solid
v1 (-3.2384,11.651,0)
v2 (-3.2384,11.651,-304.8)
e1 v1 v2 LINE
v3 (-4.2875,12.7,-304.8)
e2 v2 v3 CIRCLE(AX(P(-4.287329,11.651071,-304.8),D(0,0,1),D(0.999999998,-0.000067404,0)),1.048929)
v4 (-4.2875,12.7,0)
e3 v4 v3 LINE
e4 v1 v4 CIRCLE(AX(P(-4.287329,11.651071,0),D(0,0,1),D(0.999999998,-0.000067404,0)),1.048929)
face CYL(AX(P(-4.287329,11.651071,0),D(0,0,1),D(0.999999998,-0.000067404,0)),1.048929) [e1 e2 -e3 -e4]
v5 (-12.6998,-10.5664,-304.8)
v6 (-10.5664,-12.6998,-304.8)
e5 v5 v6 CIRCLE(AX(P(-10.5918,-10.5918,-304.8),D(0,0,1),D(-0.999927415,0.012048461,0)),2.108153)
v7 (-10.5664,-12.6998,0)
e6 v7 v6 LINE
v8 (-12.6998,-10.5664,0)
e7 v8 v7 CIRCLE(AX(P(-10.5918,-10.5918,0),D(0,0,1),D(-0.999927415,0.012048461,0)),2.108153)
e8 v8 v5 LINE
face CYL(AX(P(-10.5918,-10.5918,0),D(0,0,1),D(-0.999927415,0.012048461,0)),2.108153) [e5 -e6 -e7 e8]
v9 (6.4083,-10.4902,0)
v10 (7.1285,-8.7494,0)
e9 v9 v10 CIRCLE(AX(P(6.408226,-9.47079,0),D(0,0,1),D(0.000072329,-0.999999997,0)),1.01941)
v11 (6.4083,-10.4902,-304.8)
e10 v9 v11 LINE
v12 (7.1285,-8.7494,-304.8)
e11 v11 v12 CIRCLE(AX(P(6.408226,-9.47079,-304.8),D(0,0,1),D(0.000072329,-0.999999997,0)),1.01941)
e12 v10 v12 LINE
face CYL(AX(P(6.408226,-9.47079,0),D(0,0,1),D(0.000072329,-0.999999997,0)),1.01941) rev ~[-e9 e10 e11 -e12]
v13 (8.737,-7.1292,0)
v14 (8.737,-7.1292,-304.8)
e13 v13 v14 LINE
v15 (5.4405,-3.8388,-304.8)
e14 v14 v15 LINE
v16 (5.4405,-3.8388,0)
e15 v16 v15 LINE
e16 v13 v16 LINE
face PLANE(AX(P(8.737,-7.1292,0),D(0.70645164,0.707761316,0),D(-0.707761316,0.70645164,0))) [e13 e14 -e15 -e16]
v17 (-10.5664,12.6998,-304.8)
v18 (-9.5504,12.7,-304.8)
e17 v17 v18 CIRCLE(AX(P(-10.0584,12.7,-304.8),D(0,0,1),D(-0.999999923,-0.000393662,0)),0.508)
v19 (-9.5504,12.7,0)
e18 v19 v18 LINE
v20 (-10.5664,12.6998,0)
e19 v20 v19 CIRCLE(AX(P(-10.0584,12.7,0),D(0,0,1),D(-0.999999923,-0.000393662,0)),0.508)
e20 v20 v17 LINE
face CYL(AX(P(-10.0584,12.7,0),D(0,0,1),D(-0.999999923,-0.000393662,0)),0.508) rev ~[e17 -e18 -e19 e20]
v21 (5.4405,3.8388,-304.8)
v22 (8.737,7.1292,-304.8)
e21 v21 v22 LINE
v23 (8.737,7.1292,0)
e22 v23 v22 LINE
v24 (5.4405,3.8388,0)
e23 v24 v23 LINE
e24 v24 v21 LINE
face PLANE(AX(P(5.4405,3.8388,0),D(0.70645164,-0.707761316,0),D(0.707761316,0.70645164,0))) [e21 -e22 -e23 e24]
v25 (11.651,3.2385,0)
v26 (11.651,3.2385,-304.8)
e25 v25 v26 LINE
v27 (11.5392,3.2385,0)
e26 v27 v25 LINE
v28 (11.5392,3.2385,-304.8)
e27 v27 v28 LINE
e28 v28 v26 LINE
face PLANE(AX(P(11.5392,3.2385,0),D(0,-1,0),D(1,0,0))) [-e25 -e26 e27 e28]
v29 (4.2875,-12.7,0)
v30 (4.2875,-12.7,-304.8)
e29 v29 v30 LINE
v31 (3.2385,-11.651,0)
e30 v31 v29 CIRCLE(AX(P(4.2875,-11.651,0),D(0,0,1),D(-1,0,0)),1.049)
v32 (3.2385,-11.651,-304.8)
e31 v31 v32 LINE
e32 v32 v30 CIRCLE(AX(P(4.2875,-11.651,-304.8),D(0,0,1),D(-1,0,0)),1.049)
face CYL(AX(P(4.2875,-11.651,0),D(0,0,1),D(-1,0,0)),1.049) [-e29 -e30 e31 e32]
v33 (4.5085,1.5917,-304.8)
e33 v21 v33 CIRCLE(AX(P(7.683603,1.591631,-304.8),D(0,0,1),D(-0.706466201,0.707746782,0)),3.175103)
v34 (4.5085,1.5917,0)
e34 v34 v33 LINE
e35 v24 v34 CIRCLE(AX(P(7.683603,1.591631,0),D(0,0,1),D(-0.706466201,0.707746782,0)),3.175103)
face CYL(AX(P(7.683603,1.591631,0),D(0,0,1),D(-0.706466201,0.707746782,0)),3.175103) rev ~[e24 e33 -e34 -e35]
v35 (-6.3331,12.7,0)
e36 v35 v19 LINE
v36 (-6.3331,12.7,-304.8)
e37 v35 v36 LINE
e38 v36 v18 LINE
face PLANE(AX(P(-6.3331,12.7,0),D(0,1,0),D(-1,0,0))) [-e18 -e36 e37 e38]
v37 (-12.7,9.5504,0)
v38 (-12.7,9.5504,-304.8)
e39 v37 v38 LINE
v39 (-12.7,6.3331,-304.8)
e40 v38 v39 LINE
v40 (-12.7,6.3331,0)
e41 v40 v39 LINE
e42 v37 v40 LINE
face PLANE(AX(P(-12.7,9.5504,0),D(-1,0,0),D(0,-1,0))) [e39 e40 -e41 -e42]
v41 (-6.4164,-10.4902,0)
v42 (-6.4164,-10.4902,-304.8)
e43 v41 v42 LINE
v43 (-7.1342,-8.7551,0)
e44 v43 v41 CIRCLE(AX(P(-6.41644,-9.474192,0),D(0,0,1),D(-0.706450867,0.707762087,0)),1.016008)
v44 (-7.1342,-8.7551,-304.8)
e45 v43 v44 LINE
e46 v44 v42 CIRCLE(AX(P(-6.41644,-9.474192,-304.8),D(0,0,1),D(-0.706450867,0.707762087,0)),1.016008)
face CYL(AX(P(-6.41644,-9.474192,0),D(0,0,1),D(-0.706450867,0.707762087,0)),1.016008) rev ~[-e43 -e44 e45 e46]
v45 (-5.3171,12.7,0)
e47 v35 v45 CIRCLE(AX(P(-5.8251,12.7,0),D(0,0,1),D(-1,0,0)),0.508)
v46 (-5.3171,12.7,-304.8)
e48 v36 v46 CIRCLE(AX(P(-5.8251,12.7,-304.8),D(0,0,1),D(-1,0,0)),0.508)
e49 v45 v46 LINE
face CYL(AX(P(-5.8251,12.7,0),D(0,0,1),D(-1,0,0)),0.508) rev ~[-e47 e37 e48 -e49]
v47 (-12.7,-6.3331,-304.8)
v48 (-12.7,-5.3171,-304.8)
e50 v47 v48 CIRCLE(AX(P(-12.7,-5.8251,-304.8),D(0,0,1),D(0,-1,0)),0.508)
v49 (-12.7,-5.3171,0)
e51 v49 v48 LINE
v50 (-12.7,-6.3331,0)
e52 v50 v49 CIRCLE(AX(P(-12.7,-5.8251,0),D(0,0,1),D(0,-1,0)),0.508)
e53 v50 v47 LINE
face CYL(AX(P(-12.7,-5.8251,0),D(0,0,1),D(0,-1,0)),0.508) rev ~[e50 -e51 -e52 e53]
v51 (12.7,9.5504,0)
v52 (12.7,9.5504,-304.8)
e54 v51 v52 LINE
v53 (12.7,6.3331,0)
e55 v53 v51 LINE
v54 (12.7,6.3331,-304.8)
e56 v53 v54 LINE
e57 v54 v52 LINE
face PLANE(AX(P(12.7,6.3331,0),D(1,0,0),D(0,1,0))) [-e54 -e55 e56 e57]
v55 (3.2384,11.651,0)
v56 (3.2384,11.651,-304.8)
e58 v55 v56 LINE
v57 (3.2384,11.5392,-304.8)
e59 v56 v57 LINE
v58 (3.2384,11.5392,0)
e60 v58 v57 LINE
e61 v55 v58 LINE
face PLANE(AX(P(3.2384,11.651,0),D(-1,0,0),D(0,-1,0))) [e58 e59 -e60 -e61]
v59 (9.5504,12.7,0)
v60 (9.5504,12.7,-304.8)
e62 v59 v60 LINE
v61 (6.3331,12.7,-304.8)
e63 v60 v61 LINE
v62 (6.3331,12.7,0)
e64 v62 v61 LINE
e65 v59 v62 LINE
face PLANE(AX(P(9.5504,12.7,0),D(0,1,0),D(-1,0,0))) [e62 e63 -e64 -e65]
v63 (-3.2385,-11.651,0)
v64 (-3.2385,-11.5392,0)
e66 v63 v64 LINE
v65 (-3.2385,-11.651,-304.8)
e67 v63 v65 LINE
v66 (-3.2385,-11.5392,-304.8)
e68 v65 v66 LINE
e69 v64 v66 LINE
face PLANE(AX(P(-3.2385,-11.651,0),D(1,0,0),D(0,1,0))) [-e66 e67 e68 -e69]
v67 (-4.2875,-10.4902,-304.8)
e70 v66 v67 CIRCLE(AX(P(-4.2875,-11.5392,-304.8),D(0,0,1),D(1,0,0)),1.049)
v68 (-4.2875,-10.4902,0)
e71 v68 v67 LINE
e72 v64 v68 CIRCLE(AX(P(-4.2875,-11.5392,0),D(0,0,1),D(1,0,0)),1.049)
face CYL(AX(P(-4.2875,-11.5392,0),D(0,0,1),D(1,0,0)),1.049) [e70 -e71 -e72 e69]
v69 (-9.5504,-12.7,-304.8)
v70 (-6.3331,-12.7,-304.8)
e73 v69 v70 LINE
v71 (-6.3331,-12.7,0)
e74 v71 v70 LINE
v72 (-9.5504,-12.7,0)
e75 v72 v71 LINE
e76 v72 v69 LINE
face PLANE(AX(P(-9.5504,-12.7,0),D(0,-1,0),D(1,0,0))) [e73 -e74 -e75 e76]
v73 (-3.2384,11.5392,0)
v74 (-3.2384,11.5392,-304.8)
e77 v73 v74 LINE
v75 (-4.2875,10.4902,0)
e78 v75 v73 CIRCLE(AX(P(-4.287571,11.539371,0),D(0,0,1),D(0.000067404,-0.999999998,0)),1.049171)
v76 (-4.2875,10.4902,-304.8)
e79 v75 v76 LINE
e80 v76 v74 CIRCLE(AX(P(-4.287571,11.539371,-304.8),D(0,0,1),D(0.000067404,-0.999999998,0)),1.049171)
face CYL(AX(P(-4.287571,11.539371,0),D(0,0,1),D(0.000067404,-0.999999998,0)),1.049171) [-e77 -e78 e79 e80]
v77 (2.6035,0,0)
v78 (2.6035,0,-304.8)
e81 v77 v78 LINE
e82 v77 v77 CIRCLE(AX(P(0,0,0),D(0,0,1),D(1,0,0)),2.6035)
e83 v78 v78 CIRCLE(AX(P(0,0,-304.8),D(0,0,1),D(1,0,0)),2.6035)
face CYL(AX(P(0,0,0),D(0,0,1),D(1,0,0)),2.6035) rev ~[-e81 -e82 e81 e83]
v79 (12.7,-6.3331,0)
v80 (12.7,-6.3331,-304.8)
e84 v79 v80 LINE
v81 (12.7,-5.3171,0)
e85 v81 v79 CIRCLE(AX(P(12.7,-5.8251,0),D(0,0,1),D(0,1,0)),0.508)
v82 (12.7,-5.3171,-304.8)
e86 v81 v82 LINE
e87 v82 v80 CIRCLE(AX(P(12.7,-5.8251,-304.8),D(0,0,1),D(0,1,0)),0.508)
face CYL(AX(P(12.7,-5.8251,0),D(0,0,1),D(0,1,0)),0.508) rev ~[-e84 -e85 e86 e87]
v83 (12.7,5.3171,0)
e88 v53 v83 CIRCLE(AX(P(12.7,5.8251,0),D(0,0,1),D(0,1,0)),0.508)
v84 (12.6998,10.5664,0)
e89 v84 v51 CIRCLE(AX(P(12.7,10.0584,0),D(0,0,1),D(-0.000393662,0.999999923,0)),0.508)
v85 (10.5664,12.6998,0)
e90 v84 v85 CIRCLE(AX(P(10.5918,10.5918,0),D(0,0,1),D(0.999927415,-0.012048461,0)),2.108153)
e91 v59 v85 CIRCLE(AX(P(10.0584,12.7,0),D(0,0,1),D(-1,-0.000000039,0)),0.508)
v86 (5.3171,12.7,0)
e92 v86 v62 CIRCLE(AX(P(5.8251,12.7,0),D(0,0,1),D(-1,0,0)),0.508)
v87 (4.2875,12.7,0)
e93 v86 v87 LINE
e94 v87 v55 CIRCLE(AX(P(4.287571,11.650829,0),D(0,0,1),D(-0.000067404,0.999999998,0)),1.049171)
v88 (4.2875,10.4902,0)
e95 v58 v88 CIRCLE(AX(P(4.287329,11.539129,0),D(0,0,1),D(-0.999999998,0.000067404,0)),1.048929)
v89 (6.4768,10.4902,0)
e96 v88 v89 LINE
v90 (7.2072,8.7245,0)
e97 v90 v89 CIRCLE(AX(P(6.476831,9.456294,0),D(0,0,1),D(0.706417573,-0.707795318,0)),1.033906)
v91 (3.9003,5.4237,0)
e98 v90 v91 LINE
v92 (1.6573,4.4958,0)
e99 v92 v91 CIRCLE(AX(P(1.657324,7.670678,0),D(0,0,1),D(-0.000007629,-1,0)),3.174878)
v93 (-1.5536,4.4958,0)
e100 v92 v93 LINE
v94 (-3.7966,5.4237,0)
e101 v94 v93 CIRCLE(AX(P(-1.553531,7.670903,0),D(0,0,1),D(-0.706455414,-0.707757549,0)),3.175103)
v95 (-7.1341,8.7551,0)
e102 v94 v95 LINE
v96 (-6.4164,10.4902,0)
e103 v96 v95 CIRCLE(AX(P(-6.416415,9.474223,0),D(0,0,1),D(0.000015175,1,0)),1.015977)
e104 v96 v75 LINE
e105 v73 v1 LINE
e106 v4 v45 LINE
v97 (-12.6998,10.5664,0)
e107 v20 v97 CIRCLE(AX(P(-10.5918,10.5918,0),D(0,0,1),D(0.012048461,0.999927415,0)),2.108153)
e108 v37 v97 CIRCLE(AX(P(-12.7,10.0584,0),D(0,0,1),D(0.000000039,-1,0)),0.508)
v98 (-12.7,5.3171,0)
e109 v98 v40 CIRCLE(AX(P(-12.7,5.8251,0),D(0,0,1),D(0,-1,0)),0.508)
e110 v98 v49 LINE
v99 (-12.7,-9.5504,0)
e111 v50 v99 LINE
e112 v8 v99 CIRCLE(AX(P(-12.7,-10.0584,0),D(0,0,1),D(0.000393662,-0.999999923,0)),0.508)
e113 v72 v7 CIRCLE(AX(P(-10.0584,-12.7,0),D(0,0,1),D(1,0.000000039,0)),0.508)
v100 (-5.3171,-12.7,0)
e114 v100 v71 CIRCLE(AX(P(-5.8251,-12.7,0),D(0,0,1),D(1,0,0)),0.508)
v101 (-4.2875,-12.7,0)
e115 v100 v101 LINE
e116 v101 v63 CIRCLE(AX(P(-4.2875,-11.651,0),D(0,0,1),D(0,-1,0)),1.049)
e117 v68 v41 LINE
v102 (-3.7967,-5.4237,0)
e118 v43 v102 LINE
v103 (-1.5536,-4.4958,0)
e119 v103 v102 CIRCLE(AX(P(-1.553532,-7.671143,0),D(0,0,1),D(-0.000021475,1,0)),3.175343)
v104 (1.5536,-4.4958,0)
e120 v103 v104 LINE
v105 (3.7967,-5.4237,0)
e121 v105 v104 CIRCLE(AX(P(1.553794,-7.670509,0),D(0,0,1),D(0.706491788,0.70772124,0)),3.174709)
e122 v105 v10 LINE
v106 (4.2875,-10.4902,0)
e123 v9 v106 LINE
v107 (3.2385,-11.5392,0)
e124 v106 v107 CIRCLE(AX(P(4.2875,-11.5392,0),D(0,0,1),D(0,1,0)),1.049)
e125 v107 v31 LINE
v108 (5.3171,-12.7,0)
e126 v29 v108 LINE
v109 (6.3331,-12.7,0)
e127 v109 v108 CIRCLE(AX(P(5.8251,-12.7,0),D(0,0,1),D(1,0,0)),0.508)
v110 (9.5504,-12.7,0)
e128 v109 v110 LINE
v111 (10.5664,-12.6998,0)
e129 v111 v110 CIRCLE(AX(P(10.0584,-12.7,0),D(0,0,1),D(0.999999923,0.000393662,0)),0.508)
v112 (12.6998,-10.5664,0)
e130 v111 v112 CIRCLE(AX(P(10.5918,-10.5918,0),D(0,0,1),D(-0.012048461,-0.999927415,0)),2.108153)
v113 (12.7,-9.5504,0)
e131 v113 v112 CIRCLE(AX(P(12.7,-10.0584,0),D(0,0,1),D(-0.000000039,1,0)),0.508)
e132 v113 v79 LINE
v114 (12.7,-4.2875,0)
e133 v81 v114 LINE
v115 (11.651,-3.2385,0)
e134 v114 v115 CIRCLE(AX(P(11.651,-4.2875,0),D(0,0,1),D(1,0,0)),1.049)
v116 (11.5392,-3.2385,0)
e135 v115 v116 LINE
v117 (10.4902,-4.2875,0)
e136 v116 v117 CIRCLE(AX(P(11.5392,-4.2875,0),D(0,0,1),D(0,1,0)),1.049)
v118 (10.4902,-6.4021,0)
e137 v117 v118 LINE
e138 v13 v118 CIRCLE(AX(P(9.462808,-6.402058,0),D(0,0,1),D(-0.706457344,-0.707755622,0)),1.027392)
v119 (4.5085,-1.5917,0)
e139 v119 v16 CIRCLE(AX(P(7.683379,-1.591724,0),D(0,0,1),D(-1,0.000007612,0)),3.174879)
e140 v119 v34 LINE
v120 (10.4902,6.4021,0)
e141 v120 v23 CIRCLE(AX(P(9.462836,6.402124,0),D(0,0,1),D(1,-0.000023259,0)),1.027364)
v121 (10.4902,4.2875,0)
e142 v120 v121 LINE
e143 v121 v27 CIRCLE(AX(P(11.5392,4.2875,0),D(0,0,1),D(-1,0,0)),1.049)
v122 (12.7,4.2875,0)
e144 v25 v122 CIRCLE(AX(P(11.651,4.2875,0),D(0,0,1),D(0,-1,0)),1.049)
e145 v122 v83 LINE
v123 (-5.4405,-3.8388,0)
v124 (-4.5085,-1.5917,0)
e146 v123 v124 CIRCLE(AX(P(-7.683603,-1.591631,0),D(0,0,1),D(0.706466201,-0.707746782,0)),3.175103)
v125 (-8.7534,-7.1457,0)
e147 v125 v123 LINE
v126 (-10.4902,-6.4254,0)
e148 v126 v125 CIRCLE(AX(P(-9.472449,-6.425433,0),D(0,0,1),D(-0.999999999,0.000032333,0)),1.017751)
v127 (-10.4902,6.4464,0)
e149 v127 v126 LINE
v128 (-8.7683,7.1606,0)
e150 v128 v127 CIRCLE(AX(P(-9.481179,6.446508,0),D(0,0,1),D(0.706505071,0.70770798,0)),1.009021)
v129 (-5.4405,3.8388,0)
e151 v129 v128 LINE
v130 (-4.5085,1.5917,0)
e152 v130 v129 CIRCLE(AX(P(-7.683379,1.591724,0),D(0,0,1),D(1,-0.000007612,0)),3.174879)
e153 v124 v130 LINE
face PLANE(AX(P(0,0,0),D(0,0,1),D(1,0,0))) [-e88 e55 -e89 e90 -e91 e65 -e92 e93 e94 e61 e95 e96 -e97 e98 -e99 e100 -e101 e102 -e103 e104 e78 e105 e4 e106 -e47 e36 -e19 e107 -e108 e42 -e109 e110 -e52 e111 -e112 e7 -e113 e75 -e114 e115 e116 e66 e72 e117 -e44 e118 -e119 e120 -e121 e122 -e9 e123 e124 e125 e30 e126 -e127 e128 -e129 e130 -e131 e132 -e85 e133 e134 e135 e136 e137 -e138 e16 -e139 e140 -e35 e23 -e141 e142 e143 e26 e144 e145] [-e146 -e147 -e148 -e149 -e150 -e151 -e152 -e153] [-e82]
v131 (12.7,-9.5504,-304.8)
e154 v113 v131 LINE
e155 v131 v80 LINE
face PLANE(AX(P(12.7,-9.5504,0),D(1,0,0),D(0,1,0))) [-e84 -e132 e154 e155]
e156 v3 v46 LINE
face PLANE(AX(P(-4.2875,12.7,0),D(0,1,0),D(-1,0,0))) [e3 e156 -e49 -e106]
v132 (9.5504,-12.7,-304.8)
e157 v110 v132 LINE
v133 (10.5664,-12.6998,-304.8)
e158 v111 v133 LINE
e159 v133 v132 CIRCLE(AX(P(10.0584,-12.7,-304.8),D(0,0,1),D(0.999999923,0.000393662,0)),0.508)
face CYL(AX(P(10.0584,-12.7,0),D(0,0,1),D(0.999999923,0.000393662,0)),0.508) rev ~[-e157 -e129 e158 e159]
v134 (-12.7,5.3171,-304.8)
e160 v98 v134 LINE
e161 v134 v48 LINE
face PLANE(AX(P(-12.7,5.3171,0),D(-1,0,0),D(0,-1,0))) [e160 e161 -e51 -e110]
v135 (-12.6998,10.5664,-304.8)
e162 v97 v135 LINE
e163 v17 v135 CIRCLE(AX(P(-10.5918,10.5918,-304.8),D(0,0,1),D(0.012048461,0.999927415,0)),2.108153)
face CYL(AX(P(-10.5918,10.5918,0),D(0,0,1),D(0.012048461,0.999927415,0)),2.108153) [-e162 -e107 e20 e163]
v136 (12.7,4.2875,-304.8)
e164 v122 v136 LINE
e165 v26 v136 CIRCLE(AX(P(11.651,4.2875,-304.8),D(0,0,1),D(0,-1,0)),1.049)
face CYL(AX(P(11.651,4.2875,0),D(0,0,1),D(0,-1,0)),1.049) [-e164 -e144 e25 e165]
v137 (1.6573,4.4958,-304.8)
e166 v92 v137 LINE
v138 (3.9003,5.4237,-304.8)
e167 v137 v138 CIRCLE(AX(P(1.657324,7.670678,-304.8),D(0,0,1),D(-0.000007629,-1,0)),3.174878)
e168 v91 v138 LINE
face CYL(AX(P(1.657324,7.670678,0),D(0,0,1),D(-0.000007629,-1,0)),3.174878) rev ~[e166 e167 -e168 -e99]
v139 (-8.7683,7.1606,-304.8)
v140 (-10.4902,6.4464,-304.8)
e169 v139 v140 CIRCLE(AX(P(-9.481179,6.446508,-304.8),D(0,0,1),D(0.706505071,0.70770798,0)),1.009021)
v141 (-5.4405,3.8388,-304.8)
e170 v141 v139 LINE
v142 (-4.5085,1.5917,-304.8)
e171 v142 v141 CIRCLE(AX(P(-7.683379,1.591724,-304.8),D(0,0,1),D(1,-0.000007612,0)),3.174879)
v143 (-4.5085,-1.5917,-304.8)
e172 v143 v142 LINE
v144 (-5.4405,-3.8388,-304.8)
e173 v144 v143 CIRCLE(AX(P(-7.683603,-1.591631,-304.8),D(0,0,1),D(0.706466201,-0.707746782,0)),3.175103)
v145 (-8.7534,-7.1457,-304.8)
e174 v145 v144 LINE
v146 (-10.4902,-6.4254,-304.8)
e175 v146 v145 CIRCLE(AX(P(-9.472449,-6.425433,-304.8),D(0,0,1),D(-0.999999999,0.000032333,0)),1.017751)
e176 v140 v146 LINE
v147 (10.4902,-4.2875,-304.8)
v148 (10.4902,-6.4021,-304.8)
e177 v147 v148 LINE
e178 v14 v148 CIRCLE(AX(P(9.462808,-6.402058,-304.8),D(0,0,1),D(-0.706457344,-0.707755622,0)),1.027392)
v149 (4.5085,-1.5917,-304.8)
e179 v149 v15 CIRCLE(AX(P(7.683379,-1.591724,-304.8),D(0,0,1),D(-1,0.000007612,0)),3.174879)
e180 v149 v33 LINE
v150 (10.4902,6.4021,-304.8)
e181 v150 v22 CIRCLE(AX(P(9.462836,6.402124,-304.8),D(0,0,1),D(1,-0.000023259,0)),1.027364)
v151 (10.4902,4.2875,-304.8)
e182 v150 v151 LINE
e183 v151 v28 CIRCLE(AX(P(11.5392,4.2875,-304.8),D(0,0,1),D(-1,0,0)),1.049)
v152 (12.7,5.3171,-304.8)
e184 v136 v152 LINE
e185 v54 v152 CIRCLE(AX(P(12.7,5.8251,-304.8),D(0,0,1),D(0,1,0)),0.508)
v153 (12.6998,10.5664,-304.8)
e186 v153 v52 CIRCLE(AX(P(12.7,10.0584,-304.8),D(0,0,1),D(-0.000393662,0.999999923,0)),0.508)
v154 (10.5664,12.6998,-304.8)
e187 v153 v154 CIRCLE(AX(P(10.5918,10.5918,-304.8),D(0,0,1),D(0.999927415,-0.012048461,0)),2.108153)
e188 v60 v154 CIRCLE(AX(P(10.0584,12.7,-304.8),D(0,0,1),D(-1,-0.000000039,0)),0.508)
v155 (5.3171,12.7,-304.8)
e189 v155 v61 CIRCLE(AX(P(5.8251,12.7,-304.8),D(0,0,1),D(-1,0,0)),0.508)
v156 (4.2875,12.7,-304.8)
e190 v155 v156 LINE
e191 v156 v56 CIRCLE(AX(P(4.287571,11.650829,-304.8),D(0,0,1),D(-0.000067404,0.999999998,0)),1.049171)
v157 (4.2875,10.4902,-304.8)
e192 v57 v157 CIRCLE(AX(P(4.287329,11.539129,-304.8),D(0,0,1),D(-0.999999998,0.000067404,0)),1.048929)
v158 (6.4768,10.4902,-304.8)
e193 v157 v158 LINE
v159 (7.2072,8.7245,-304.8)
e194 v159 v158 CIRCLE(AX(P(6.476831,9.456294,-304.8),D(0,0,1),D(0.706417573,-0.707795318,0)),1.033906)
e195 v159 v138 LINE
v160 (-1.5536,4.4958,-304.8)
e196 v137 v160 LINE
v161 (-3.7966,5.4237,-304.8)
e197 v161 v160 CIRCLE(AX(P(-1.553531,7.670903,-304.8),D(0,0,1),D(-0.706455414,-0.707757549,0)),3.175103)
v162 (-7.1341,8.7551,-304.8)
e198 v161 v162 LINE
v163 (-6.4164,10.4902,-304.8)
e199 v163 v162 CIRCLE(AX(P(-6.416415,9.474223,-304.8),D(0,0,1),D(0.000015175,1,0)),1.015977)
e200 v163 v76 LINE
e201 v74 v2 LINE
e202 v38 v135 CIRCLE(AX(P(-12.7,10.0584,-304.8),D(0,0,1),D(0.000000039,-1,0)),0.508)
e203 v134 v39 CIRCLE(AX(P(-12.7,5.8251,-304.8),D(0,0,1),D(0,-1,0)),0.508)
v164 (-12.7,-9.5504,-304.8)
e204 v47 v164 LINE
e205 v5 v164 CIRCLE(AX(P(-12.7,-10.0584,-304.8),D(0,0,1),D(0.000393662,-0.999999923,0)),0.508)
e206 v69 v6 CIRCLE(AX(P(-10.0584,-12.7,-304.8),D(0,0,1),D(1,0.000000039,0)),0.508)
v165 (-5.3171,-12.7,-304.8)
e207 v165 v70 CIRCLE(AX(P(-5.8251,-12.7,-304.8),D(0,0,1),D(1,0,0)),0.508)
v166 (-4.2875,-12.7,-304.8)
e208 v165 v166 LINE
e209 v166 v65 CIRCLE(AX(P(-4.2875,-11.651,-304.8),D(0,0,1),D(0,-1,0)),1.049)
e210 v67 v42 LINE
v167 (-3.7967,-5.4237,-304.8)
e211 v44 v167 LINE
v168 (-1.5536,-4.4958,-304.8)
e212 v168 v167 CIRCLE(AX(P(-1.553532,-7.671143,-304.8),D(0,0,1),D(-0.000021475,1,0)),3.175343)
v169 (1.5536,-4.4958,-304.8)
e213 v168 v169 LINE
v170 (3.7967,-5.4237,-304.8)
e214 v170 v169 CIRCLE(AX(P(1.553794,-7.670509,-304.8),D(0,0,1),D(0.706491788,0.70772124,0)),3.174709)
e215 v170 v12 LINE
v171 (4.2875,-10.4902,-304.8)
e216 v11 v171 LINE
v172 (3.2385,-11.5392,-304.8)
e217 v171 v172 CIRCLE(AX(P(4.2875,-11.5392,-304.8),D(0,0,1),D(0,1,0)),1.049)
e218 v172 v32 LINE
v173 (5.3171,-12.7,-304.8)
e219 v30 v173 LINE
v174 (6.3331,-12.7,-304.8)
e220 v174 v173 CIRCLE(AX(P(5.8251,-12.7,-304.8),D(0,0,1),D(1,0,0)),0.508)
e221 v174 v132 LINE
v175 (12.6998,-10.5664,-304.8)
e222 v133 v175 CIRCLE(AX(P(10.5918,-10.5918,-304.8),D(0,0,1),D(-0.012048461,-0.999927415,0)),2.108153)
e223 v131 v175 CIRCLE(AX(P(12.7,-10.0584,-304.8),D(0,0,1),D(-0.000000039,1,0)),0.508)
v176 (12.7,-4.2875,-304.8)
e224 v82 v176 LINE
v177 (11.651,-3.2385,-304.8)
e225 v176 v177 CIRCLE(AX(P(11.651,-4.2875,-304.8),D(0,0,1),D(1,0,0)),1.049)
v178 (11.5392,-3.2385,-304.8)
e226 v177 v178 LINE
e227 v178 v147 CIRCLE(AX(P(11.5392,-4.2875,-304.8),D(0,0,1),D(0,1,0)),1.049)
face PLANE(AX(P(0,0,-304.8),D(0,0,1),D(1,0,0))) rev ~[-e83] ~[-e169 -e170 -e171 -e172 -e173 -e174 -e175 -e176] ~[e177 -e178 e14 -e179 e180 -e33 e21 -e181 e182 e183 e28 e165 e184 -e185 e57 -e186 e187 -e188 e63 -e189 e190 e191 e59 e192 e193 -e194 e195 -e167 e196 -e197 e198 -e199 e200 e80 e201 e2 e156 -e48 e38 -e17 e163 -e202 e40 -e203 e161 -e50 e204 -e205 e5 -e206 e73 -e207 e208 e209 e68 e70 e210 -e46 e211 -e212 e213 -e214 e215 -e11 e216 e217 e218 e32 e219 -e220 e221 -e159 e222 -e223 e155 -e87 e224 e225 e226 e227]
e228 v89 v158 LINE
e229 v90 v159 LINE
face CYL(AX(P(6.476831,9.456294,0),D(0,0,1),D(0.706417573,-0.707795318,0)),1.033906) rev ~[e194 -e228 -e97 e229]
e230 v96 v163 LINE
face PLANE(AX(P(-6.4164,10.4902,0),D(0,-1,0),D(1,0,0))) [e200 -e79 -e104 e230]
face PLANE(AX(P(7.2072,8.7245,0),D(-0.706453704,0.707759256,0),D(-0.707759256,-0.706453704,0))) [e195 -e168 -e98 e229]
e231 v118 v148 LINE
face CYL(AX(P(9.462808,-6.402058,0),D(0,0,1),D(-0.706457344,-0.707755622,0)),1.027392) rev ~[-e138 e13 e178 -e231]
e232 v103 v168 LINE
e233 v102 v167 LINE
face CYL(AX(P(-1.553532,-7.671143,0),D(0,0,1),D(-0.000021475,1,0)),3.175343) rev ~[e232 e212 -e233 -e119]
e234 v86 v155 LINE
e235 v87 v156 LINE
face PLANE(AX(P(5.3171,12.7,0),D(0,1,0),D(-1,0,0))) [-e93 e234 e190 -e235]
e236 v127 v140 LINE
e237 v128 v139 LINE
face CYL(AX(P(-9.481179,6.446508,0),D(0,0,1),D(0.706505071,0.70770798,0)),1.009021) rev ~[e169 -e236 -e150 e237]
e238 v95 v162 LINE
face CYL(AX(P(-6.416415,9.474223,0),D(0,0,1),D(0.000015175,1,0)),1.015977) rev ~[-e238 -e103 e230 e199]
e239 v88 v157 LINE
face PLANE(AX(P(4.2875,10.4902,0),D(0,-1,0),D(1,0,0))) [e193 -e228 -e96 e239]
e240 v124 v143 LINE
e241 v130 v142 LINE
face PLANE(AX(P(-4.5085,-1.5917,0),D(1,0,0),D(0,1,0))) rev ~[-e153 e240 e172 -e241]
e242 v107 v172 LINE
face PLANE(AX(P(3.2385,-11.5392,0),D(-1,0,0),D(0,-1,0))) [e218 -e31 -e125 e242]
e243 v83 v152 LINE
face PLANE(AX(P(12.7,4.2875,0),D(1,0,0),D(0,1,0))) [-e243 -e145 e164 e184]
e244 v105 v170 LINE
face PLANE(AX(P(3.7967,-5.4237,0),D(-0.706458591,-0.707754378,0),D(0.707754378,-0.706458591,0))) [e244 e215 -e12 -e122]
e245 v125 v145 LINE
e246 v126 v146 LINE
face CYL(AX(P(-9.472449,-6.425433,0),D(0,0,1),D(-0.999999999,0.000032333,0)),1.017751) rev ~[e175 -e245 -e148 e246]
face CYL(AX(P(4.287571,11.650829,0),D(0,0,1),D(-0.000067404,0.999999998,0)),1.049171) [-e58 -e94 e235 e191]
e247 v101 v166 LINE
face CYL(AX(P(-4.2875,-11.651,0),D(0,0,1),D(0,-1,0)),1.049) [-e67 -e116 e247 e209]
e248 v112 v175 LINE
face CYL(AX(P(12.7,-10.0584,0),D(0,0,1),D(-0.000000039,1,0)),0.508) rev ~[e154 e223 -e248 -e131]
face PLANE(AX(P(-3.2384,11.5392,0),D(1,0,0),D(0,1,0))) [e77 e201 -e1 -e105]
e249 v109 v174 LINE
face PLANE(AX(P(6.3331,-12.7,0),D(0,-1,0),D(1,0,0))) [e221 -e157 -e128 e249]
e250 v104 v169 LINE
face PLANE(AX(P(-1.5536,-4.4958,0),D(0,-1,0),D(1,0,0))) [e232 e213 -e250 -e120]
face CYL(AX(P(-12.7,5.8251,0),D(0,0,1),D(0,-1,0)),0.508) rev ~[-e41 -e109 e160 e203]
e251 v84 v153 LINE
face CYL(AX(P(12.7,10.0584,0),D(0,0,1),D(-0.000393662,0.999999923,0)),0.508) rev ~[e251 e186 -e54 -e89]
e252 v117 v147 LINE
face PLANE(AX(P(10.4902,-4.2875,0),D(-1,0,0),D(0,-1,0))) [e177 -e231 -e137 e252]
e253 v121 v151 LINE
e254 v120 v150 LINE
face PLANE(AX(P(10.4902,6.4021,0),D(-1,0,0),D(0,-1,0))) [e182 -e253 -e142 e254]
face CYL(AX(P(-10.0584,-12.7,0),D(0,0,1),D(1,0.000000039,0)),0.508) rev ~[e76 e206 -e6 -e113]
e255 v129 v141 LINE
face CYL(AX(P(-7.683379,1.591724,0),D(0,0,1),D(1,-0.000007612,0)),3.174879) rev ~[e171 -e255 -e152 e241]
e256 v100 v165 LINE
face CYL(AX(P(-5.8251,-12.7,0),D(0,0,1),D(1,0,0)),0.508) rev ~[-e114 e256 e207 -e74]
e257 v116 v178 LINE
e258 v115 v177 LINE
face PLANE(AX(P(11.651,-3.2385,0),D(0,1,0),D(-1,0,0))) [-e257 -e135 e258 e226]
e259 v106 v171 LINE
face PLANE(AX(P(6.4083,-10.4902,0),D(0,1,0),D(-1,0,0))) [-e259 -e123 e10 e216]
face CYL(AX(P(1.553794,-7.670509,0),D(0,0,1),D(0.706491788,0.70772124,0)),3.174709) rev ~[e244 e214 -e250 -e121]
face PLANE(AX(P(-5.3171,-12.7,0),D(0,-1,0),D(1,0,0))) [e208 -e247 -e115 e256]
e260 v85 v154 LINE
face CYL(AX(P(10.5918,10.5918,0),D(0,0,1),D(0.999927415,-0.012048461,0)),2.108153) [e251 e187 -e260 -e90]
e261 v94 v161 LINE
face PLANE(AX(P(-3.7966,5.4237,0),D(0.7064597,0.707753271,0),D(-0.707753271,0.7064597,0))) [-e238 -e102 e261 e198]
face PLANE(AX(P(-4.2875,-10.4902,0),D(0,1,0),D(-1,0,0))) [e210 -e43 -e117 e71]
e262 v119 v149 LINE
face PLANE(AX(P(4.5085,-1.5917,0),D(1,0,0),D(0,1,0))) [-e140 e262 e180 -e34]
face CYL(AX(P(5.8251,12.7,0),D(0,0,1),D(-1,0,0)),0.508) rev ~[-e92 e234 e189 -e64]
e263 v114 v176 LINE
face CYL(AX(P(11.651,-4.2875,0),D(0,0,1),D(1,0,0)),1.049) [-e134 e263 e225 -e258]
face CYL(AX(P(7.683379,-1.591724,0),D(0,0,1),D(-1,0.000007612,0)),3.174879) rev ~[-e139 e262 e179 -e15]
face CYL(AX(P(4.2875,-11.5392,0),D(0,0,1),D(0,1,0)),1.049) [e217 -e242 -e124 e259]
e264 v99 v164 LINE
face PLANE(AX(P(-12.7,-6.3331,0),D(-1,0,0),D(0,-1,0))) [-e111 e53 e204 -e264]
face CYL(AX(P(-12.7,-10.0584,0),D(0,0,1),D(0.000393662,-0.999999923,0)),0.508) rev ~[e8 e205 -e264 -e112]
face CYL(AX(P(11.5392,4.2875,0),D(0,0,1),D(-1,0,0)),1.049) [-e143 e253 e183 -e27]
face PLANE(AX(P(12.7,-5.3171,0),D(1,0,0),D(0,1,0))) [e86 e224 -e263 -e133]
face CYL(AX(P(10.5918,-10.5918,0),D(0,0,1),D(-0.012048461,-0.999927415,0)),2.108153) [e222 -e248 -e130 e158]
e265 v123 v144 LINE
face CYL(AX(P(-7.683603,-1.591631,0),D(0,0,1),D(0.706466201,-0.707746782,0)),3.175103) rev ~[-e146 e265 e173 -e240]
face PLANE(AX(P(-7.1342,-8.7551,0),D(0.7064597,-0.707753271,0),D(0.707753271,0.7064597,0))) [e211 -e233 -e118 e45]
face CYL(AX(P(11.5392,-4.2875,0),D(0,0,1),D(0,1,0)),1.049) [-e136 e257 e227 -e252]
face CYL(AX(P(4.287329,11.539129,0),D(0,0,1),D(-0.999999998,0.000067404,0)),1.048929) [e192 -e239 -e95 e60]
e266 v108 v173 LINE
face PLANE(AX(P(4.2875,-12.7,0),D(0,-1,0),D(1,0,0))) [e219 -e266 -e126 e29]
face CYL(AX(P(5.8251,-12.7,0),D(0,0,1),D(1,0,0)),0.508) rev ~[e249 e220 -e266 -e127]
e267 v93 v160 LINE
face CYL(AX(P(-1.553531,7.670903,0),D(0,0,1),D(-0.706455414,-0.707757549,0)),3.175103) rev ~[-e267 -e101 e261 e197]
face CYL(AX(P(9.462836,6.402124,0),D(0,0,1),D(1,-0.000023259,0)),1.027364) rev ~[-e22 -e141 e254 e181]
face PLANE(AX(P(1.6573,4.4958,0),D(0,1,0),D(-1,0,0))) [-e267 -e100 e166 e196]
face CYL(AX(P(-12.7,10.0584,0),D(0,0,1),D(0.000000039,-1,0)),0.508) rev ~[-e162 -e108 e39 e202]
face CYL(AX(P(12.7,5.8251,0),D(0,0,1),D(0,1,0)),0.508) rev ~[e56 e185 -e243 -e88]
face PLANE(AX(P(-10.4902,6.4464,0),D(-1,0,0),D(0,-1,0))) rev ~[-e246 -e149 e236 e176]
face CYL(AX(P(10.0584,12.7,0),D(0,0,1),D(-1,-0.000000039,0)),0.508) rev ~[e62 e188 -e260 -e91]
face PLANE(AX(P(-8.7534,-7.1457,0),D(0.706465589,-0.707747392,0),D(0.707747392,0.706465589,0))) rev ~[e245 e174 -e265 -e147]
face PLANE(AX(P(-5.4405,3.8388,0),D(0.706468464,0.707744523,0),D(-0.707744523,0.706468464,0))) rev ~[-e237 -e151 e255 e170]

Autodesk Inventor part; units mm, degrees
ref_plane "YZ Plane" through (0, 0, 0) normal (1, 0, 0) x (0, 1, 0)
ref_plane "XZ Plane" through (0, 0, 0) normal (0, 1, 0) x (-1, 0, 0)
ref_plane "XY Plane" through (0, 0, 0) normal (0, 0, 1) x (1, 0, 0)
sketch "Sketch1" plane through (0, 0, 0) normal (0, 0, 1) x (1, 0, 0)
  circle A0 centre (0, 0) radius 2.6035
  arc A1 (-8.7683, 7.1606) -> (-10.4902, 6.4464) centre (-9.4812, 6.4464) ccw
  line L0 (-5.4405, 3.8388) -> (-8.7683, 7.1606)
  arc A2 (-4.5085, 1.5917) -> (-5.4405, 3.8388) centre (-7.6835, 1.5917) ccw
  line L1 (-4.5085, -1.5917) -> (-4.5085, 1.5917)
  arc A3 (-5.4405, -3.8388) -> (-4.5085, -1.5917) centre (-7.6835, -1.5917) ccw
  line L2 (-8.7534, -7.1457) -> (-5.4405, -3.8388)
  arc A4 (-10.4902, -6.4254) -> (-8.7534, -7.1457) centre (-9.4724, -6.4254) ccw
  line L3 (-10.4902, 6.4464) -> (-10.4902, -6.4254)
  arc A5 (-7.1342, -8.7551) -> (-6.4164, -10.4902) centre (-6.4164, -9.4742) ccw
  line L4 (-7.1342, -8.7551) -> (-3.7967, -5.4237)
  arc A6 (-1.5536, -4.4958) -> (-3.7967, -5.4237) centre (-1.5536, -7.6708) ccw
  line L5 (-1.5536, -4.4958) -> (1.5536, -4.4958)
  arc A7 (3.7967, -5.4237) -> (1.5536, -4.4958) centre (1.5536, -7.6708) ccw
  line L6 (3.7967, -5.4237) -> (7.1285, -8.7494)
  arc A8 (6.4083, -10.4902) -> (7.1285, -8.7494) centre (6.4083, -9.4709) ccw
  line L7 (6.4083, -10.4902) -> (4.2875, -10.4902)
  arc A9 (4.2875, -10.4902) -> (3.2385, -11.5392) centre (4.2875, -11.5392) ccw
  line L8 (3.2385, -11.5392) -> (3.2385, -11.651)
  arc A10 (3.2385, -11.651) -> (4.2875, -12.7) centre (4.2875, -11.651) ccw
  line L9 (4.2875, -12.7) -> (5.3171, -12.7)
  arc A11 (6.3331, -12.7) -> (5.3171, -12.7) centre (5.8251, -12.7) ccw
  line L10 (6.3331, -12.7) -> (9.5504, -12.7)
  arc A12 (10.5664, -12.6998) -> (9.5504, -12.7) centre (10.0584, -12.7) ccw
  arc A13 (10.5664, -12.6998) -> (12.6998, -10.5664) centre (10.5918, -10.5918) ccw
  arc A14 (12.7, -9.5504) -> (12.6998, -10.5664) centre (12.7, -10.0584) ccw
  line L11 (12.7, -9.5504) -> (12.7, -6.3331)
  arc A15 (12.7, -5.3171) -> (12.7, -6.3331) centre (12.7, -5.8251) ccw
  line L12 (12.7, -5.3171) -> (12.7, -4.2875)
  arc A16 (12.7, -4.2875) -> (11.651, -3.2385) centre (11.651, -4.2875) ccw
  line L13 (11.651, -3.2385) -> (11.5392, -3.2385)
  arc A17 (11.5392, -3.2385) -> (10.4902, -4.2875) centre (11.5392, -4.2875) ccw
  line L14 (10.4902, -4.2875) -> (10.4902, -6.4021)
  arc A18 (8.737, -7.1292) -> (10.4902, -6.4021) centre (9.4628, -6.4021) ccw
  line L15 (8.737, -7.1292) -> (5.4405, -3.8388)
  arc A19 (4.5085, -1.5917) -> (5.4405, -3.8388) centre (7.6835, -1.5917) ccw
  line L16 (4.5085, -1.5917) -> (4.5085, 1.5917)
  arc A20 (5.4405, 3.8388) -> (4.5085, 1.5917) centre (7.6835, 1.5917) ccw
  line L17 (5.4405, 3.8388) -> (8.737, 7.1292)
  arc A21 (10.4902, 6.4021) -> (8.737, 7.1292) centre (9.4628, 6.4021) ccw
  line L18 (10.4902, 6.4021) -> (10.4902, 4.2875)
  arc A22 (10.4902, 4.2875) -> (11.5392, 3.2385) centre (11.5392, 4.2875) ccw
  line L19 (11.5392, 3.2385) -> (11.651, 3.2385)
  arc A23 (11.651, 3.2385) -> (12.7, 4.2875) centre (11.651, 4.2875) ccw
  line L20 (12.7, 4.2875) -> (12.7, 5.3171)
  arc A24 (12.7, 6.3331) -> (12.7, 5.3171) centre (12.7, 5.8251) ccw
  line L21 (12.7, 6.3331) -> (12.7, 9.5504)
  arc A25 (12.6998, 10.5664) -> (12.7, 9.5504) centre (12.7, 10.0584) ccw
  arc A26 (12.6998, 10.5664) -> (10.5664, 12.6998) centre (10.5918, 10.5918) ccw
  arc A27 (9.5504, 12.7) -> (10.5664, 12.6998) centre (10.0584, 12.7) ccw
  line L22 (9.5504, 12.7) -> (6.3331, 12.7)
  arc A28 (5.3171, 12.7) -> (6.3331, 12.7) centre (5.8251, 12.7) ccw
  line L23 (5.3171, 12.7) -> (4.2875, 12.7)
  arc A29 (4.2875, 12.7) -> (3.2384, 11.651) centre (4.2875, 11.651) ccw
  line L24 (3.2384, 11.651) -> (3.2384, 11.5392)
  arc A30 (3.2384, 11.5392) -> (4.2875, 10.4902) centre (4.2875, 11.5392) ccw
  line L25 (4.2875, 10.4902) -> (6.4768, 10.4902)
  arc A31 (7.2072, 8.7245) -> (6.4768, 10.4902) centre (6.4768, 9.4563) ccw
  line L26 (7.2072, 8.7245) -> (3.9003, 5.4237)
  arc A32 (1.6573, 4.4958) -> (3.9003, 5.4237) centre (1.6573, 7.6708) ccw
  line L27 (1.6573, 4.4958) -> (-1.5536, 4.4958)
  arc A33 (-3.7966, 5.4237) -> (-1.5536, 4.4958) centre (-1.5536, 7.6708) ccw
  line L28 (-3.7966, 5.4237) -> (-7.1341, 8.7551)
  arc A34 (-6.4164, 10.4902) -> (-7.1341, 8.7551) centre (-6.4164, 9.4742) ccw
  line L29 (-6.4164, 10.4902) -> (-4.2875, 10.4902)
  arc A35 (-4.2875, 10.4902) -> (-3.2384, 11.5392) centre (-4.2875, 11.5392) ccw
  line L30 (-3.2384, 11.5392) -> (-3.2384, 11.651)
  arc A36 (-3.2384, 11.651) -> (-4.2875, 12.7) centre (-4.2875, 11.651) ccw
  line L31 (-4.2875, 12.7) -> (-5.3171, 12.7)
  arc A37 (-6.3331, 12.7) -> (-5.3171, 12.7) centre (-5.8251, 12.7) ccw
  line L32 (-6.3331, 12.7) -> (-9.5504, 12.7)
  arc A38 (-10.5664, 12.6998) -> (-9.5504, 12.7) centre (-10.0584, 12.7) ccw
  arc A39 (-10.5664, 12.6998) -> (-12.6998, 10.5664) centre (-10.5918, 10.5918) ccw
  arc A40 (-12.7, 9.5504) -> (-12.6998, 10.5664) centre (-12.7, 10.0584) ccw
  line L33 (-12.7, 9.5504) -> (-12.7, 6.3331)
  arc A41 (-12.7, 5.3171) -> (-12.7, 6.3331) centre (-12.7, 5.8251) ccw
  line L34 (-12.7, 5.3171) -> (-12.7, -5.3171)
  arc A42 (-12.7, -6.3331) -> (-12.7, -5.3171) centre (-12.7, -5.8251) ccw
  line L35 (-12.7, -6.3331) -> (-12.7, -9.5504)
  arc A43 (-12.6998, -10.5664) -> (-12.7, -9.5504) centre (-12.7, -10.0584) ccw
  arc A44 (-12.6998, -10.5664) -> (-10.5664, -12.6998) centre (-10.5918, -10.5918) ccw
  arc A45 (-9.5504, -12.7) -> (-10.5664, -12.6998) centre (-10.0584, -12.7) ccw
  line L36 (-9.5504, -12.7) -> (-6.3331, -12.7)
  arc A46 (-5.3171, -12.7) -> (-6.3331, -12.7) centre (-5.8251, -12.7) ccw
  line L37 (-5.3171, -12.7) -> (-4.2875, -12.7)
  arc A47 (-4.2875, -12.7) -> (-3.2385, -11.651) centre (-4.2875, -11.651) ccw
  line L38 (-3.2385, -11.651) -> (-3.2385, -11.5392)
  arc A48 (-3.2385, -11.5392) -> (-4.2875, -10.4902) centre (-4.2875, -11.5392) ccw
  line L39 (-4.2875, -10.4902) -> (-6.4164, -10.4902)
extrude "Extrusion1" add sketch "Sketch1" against normal blind 304.8
properties part number "1003"
